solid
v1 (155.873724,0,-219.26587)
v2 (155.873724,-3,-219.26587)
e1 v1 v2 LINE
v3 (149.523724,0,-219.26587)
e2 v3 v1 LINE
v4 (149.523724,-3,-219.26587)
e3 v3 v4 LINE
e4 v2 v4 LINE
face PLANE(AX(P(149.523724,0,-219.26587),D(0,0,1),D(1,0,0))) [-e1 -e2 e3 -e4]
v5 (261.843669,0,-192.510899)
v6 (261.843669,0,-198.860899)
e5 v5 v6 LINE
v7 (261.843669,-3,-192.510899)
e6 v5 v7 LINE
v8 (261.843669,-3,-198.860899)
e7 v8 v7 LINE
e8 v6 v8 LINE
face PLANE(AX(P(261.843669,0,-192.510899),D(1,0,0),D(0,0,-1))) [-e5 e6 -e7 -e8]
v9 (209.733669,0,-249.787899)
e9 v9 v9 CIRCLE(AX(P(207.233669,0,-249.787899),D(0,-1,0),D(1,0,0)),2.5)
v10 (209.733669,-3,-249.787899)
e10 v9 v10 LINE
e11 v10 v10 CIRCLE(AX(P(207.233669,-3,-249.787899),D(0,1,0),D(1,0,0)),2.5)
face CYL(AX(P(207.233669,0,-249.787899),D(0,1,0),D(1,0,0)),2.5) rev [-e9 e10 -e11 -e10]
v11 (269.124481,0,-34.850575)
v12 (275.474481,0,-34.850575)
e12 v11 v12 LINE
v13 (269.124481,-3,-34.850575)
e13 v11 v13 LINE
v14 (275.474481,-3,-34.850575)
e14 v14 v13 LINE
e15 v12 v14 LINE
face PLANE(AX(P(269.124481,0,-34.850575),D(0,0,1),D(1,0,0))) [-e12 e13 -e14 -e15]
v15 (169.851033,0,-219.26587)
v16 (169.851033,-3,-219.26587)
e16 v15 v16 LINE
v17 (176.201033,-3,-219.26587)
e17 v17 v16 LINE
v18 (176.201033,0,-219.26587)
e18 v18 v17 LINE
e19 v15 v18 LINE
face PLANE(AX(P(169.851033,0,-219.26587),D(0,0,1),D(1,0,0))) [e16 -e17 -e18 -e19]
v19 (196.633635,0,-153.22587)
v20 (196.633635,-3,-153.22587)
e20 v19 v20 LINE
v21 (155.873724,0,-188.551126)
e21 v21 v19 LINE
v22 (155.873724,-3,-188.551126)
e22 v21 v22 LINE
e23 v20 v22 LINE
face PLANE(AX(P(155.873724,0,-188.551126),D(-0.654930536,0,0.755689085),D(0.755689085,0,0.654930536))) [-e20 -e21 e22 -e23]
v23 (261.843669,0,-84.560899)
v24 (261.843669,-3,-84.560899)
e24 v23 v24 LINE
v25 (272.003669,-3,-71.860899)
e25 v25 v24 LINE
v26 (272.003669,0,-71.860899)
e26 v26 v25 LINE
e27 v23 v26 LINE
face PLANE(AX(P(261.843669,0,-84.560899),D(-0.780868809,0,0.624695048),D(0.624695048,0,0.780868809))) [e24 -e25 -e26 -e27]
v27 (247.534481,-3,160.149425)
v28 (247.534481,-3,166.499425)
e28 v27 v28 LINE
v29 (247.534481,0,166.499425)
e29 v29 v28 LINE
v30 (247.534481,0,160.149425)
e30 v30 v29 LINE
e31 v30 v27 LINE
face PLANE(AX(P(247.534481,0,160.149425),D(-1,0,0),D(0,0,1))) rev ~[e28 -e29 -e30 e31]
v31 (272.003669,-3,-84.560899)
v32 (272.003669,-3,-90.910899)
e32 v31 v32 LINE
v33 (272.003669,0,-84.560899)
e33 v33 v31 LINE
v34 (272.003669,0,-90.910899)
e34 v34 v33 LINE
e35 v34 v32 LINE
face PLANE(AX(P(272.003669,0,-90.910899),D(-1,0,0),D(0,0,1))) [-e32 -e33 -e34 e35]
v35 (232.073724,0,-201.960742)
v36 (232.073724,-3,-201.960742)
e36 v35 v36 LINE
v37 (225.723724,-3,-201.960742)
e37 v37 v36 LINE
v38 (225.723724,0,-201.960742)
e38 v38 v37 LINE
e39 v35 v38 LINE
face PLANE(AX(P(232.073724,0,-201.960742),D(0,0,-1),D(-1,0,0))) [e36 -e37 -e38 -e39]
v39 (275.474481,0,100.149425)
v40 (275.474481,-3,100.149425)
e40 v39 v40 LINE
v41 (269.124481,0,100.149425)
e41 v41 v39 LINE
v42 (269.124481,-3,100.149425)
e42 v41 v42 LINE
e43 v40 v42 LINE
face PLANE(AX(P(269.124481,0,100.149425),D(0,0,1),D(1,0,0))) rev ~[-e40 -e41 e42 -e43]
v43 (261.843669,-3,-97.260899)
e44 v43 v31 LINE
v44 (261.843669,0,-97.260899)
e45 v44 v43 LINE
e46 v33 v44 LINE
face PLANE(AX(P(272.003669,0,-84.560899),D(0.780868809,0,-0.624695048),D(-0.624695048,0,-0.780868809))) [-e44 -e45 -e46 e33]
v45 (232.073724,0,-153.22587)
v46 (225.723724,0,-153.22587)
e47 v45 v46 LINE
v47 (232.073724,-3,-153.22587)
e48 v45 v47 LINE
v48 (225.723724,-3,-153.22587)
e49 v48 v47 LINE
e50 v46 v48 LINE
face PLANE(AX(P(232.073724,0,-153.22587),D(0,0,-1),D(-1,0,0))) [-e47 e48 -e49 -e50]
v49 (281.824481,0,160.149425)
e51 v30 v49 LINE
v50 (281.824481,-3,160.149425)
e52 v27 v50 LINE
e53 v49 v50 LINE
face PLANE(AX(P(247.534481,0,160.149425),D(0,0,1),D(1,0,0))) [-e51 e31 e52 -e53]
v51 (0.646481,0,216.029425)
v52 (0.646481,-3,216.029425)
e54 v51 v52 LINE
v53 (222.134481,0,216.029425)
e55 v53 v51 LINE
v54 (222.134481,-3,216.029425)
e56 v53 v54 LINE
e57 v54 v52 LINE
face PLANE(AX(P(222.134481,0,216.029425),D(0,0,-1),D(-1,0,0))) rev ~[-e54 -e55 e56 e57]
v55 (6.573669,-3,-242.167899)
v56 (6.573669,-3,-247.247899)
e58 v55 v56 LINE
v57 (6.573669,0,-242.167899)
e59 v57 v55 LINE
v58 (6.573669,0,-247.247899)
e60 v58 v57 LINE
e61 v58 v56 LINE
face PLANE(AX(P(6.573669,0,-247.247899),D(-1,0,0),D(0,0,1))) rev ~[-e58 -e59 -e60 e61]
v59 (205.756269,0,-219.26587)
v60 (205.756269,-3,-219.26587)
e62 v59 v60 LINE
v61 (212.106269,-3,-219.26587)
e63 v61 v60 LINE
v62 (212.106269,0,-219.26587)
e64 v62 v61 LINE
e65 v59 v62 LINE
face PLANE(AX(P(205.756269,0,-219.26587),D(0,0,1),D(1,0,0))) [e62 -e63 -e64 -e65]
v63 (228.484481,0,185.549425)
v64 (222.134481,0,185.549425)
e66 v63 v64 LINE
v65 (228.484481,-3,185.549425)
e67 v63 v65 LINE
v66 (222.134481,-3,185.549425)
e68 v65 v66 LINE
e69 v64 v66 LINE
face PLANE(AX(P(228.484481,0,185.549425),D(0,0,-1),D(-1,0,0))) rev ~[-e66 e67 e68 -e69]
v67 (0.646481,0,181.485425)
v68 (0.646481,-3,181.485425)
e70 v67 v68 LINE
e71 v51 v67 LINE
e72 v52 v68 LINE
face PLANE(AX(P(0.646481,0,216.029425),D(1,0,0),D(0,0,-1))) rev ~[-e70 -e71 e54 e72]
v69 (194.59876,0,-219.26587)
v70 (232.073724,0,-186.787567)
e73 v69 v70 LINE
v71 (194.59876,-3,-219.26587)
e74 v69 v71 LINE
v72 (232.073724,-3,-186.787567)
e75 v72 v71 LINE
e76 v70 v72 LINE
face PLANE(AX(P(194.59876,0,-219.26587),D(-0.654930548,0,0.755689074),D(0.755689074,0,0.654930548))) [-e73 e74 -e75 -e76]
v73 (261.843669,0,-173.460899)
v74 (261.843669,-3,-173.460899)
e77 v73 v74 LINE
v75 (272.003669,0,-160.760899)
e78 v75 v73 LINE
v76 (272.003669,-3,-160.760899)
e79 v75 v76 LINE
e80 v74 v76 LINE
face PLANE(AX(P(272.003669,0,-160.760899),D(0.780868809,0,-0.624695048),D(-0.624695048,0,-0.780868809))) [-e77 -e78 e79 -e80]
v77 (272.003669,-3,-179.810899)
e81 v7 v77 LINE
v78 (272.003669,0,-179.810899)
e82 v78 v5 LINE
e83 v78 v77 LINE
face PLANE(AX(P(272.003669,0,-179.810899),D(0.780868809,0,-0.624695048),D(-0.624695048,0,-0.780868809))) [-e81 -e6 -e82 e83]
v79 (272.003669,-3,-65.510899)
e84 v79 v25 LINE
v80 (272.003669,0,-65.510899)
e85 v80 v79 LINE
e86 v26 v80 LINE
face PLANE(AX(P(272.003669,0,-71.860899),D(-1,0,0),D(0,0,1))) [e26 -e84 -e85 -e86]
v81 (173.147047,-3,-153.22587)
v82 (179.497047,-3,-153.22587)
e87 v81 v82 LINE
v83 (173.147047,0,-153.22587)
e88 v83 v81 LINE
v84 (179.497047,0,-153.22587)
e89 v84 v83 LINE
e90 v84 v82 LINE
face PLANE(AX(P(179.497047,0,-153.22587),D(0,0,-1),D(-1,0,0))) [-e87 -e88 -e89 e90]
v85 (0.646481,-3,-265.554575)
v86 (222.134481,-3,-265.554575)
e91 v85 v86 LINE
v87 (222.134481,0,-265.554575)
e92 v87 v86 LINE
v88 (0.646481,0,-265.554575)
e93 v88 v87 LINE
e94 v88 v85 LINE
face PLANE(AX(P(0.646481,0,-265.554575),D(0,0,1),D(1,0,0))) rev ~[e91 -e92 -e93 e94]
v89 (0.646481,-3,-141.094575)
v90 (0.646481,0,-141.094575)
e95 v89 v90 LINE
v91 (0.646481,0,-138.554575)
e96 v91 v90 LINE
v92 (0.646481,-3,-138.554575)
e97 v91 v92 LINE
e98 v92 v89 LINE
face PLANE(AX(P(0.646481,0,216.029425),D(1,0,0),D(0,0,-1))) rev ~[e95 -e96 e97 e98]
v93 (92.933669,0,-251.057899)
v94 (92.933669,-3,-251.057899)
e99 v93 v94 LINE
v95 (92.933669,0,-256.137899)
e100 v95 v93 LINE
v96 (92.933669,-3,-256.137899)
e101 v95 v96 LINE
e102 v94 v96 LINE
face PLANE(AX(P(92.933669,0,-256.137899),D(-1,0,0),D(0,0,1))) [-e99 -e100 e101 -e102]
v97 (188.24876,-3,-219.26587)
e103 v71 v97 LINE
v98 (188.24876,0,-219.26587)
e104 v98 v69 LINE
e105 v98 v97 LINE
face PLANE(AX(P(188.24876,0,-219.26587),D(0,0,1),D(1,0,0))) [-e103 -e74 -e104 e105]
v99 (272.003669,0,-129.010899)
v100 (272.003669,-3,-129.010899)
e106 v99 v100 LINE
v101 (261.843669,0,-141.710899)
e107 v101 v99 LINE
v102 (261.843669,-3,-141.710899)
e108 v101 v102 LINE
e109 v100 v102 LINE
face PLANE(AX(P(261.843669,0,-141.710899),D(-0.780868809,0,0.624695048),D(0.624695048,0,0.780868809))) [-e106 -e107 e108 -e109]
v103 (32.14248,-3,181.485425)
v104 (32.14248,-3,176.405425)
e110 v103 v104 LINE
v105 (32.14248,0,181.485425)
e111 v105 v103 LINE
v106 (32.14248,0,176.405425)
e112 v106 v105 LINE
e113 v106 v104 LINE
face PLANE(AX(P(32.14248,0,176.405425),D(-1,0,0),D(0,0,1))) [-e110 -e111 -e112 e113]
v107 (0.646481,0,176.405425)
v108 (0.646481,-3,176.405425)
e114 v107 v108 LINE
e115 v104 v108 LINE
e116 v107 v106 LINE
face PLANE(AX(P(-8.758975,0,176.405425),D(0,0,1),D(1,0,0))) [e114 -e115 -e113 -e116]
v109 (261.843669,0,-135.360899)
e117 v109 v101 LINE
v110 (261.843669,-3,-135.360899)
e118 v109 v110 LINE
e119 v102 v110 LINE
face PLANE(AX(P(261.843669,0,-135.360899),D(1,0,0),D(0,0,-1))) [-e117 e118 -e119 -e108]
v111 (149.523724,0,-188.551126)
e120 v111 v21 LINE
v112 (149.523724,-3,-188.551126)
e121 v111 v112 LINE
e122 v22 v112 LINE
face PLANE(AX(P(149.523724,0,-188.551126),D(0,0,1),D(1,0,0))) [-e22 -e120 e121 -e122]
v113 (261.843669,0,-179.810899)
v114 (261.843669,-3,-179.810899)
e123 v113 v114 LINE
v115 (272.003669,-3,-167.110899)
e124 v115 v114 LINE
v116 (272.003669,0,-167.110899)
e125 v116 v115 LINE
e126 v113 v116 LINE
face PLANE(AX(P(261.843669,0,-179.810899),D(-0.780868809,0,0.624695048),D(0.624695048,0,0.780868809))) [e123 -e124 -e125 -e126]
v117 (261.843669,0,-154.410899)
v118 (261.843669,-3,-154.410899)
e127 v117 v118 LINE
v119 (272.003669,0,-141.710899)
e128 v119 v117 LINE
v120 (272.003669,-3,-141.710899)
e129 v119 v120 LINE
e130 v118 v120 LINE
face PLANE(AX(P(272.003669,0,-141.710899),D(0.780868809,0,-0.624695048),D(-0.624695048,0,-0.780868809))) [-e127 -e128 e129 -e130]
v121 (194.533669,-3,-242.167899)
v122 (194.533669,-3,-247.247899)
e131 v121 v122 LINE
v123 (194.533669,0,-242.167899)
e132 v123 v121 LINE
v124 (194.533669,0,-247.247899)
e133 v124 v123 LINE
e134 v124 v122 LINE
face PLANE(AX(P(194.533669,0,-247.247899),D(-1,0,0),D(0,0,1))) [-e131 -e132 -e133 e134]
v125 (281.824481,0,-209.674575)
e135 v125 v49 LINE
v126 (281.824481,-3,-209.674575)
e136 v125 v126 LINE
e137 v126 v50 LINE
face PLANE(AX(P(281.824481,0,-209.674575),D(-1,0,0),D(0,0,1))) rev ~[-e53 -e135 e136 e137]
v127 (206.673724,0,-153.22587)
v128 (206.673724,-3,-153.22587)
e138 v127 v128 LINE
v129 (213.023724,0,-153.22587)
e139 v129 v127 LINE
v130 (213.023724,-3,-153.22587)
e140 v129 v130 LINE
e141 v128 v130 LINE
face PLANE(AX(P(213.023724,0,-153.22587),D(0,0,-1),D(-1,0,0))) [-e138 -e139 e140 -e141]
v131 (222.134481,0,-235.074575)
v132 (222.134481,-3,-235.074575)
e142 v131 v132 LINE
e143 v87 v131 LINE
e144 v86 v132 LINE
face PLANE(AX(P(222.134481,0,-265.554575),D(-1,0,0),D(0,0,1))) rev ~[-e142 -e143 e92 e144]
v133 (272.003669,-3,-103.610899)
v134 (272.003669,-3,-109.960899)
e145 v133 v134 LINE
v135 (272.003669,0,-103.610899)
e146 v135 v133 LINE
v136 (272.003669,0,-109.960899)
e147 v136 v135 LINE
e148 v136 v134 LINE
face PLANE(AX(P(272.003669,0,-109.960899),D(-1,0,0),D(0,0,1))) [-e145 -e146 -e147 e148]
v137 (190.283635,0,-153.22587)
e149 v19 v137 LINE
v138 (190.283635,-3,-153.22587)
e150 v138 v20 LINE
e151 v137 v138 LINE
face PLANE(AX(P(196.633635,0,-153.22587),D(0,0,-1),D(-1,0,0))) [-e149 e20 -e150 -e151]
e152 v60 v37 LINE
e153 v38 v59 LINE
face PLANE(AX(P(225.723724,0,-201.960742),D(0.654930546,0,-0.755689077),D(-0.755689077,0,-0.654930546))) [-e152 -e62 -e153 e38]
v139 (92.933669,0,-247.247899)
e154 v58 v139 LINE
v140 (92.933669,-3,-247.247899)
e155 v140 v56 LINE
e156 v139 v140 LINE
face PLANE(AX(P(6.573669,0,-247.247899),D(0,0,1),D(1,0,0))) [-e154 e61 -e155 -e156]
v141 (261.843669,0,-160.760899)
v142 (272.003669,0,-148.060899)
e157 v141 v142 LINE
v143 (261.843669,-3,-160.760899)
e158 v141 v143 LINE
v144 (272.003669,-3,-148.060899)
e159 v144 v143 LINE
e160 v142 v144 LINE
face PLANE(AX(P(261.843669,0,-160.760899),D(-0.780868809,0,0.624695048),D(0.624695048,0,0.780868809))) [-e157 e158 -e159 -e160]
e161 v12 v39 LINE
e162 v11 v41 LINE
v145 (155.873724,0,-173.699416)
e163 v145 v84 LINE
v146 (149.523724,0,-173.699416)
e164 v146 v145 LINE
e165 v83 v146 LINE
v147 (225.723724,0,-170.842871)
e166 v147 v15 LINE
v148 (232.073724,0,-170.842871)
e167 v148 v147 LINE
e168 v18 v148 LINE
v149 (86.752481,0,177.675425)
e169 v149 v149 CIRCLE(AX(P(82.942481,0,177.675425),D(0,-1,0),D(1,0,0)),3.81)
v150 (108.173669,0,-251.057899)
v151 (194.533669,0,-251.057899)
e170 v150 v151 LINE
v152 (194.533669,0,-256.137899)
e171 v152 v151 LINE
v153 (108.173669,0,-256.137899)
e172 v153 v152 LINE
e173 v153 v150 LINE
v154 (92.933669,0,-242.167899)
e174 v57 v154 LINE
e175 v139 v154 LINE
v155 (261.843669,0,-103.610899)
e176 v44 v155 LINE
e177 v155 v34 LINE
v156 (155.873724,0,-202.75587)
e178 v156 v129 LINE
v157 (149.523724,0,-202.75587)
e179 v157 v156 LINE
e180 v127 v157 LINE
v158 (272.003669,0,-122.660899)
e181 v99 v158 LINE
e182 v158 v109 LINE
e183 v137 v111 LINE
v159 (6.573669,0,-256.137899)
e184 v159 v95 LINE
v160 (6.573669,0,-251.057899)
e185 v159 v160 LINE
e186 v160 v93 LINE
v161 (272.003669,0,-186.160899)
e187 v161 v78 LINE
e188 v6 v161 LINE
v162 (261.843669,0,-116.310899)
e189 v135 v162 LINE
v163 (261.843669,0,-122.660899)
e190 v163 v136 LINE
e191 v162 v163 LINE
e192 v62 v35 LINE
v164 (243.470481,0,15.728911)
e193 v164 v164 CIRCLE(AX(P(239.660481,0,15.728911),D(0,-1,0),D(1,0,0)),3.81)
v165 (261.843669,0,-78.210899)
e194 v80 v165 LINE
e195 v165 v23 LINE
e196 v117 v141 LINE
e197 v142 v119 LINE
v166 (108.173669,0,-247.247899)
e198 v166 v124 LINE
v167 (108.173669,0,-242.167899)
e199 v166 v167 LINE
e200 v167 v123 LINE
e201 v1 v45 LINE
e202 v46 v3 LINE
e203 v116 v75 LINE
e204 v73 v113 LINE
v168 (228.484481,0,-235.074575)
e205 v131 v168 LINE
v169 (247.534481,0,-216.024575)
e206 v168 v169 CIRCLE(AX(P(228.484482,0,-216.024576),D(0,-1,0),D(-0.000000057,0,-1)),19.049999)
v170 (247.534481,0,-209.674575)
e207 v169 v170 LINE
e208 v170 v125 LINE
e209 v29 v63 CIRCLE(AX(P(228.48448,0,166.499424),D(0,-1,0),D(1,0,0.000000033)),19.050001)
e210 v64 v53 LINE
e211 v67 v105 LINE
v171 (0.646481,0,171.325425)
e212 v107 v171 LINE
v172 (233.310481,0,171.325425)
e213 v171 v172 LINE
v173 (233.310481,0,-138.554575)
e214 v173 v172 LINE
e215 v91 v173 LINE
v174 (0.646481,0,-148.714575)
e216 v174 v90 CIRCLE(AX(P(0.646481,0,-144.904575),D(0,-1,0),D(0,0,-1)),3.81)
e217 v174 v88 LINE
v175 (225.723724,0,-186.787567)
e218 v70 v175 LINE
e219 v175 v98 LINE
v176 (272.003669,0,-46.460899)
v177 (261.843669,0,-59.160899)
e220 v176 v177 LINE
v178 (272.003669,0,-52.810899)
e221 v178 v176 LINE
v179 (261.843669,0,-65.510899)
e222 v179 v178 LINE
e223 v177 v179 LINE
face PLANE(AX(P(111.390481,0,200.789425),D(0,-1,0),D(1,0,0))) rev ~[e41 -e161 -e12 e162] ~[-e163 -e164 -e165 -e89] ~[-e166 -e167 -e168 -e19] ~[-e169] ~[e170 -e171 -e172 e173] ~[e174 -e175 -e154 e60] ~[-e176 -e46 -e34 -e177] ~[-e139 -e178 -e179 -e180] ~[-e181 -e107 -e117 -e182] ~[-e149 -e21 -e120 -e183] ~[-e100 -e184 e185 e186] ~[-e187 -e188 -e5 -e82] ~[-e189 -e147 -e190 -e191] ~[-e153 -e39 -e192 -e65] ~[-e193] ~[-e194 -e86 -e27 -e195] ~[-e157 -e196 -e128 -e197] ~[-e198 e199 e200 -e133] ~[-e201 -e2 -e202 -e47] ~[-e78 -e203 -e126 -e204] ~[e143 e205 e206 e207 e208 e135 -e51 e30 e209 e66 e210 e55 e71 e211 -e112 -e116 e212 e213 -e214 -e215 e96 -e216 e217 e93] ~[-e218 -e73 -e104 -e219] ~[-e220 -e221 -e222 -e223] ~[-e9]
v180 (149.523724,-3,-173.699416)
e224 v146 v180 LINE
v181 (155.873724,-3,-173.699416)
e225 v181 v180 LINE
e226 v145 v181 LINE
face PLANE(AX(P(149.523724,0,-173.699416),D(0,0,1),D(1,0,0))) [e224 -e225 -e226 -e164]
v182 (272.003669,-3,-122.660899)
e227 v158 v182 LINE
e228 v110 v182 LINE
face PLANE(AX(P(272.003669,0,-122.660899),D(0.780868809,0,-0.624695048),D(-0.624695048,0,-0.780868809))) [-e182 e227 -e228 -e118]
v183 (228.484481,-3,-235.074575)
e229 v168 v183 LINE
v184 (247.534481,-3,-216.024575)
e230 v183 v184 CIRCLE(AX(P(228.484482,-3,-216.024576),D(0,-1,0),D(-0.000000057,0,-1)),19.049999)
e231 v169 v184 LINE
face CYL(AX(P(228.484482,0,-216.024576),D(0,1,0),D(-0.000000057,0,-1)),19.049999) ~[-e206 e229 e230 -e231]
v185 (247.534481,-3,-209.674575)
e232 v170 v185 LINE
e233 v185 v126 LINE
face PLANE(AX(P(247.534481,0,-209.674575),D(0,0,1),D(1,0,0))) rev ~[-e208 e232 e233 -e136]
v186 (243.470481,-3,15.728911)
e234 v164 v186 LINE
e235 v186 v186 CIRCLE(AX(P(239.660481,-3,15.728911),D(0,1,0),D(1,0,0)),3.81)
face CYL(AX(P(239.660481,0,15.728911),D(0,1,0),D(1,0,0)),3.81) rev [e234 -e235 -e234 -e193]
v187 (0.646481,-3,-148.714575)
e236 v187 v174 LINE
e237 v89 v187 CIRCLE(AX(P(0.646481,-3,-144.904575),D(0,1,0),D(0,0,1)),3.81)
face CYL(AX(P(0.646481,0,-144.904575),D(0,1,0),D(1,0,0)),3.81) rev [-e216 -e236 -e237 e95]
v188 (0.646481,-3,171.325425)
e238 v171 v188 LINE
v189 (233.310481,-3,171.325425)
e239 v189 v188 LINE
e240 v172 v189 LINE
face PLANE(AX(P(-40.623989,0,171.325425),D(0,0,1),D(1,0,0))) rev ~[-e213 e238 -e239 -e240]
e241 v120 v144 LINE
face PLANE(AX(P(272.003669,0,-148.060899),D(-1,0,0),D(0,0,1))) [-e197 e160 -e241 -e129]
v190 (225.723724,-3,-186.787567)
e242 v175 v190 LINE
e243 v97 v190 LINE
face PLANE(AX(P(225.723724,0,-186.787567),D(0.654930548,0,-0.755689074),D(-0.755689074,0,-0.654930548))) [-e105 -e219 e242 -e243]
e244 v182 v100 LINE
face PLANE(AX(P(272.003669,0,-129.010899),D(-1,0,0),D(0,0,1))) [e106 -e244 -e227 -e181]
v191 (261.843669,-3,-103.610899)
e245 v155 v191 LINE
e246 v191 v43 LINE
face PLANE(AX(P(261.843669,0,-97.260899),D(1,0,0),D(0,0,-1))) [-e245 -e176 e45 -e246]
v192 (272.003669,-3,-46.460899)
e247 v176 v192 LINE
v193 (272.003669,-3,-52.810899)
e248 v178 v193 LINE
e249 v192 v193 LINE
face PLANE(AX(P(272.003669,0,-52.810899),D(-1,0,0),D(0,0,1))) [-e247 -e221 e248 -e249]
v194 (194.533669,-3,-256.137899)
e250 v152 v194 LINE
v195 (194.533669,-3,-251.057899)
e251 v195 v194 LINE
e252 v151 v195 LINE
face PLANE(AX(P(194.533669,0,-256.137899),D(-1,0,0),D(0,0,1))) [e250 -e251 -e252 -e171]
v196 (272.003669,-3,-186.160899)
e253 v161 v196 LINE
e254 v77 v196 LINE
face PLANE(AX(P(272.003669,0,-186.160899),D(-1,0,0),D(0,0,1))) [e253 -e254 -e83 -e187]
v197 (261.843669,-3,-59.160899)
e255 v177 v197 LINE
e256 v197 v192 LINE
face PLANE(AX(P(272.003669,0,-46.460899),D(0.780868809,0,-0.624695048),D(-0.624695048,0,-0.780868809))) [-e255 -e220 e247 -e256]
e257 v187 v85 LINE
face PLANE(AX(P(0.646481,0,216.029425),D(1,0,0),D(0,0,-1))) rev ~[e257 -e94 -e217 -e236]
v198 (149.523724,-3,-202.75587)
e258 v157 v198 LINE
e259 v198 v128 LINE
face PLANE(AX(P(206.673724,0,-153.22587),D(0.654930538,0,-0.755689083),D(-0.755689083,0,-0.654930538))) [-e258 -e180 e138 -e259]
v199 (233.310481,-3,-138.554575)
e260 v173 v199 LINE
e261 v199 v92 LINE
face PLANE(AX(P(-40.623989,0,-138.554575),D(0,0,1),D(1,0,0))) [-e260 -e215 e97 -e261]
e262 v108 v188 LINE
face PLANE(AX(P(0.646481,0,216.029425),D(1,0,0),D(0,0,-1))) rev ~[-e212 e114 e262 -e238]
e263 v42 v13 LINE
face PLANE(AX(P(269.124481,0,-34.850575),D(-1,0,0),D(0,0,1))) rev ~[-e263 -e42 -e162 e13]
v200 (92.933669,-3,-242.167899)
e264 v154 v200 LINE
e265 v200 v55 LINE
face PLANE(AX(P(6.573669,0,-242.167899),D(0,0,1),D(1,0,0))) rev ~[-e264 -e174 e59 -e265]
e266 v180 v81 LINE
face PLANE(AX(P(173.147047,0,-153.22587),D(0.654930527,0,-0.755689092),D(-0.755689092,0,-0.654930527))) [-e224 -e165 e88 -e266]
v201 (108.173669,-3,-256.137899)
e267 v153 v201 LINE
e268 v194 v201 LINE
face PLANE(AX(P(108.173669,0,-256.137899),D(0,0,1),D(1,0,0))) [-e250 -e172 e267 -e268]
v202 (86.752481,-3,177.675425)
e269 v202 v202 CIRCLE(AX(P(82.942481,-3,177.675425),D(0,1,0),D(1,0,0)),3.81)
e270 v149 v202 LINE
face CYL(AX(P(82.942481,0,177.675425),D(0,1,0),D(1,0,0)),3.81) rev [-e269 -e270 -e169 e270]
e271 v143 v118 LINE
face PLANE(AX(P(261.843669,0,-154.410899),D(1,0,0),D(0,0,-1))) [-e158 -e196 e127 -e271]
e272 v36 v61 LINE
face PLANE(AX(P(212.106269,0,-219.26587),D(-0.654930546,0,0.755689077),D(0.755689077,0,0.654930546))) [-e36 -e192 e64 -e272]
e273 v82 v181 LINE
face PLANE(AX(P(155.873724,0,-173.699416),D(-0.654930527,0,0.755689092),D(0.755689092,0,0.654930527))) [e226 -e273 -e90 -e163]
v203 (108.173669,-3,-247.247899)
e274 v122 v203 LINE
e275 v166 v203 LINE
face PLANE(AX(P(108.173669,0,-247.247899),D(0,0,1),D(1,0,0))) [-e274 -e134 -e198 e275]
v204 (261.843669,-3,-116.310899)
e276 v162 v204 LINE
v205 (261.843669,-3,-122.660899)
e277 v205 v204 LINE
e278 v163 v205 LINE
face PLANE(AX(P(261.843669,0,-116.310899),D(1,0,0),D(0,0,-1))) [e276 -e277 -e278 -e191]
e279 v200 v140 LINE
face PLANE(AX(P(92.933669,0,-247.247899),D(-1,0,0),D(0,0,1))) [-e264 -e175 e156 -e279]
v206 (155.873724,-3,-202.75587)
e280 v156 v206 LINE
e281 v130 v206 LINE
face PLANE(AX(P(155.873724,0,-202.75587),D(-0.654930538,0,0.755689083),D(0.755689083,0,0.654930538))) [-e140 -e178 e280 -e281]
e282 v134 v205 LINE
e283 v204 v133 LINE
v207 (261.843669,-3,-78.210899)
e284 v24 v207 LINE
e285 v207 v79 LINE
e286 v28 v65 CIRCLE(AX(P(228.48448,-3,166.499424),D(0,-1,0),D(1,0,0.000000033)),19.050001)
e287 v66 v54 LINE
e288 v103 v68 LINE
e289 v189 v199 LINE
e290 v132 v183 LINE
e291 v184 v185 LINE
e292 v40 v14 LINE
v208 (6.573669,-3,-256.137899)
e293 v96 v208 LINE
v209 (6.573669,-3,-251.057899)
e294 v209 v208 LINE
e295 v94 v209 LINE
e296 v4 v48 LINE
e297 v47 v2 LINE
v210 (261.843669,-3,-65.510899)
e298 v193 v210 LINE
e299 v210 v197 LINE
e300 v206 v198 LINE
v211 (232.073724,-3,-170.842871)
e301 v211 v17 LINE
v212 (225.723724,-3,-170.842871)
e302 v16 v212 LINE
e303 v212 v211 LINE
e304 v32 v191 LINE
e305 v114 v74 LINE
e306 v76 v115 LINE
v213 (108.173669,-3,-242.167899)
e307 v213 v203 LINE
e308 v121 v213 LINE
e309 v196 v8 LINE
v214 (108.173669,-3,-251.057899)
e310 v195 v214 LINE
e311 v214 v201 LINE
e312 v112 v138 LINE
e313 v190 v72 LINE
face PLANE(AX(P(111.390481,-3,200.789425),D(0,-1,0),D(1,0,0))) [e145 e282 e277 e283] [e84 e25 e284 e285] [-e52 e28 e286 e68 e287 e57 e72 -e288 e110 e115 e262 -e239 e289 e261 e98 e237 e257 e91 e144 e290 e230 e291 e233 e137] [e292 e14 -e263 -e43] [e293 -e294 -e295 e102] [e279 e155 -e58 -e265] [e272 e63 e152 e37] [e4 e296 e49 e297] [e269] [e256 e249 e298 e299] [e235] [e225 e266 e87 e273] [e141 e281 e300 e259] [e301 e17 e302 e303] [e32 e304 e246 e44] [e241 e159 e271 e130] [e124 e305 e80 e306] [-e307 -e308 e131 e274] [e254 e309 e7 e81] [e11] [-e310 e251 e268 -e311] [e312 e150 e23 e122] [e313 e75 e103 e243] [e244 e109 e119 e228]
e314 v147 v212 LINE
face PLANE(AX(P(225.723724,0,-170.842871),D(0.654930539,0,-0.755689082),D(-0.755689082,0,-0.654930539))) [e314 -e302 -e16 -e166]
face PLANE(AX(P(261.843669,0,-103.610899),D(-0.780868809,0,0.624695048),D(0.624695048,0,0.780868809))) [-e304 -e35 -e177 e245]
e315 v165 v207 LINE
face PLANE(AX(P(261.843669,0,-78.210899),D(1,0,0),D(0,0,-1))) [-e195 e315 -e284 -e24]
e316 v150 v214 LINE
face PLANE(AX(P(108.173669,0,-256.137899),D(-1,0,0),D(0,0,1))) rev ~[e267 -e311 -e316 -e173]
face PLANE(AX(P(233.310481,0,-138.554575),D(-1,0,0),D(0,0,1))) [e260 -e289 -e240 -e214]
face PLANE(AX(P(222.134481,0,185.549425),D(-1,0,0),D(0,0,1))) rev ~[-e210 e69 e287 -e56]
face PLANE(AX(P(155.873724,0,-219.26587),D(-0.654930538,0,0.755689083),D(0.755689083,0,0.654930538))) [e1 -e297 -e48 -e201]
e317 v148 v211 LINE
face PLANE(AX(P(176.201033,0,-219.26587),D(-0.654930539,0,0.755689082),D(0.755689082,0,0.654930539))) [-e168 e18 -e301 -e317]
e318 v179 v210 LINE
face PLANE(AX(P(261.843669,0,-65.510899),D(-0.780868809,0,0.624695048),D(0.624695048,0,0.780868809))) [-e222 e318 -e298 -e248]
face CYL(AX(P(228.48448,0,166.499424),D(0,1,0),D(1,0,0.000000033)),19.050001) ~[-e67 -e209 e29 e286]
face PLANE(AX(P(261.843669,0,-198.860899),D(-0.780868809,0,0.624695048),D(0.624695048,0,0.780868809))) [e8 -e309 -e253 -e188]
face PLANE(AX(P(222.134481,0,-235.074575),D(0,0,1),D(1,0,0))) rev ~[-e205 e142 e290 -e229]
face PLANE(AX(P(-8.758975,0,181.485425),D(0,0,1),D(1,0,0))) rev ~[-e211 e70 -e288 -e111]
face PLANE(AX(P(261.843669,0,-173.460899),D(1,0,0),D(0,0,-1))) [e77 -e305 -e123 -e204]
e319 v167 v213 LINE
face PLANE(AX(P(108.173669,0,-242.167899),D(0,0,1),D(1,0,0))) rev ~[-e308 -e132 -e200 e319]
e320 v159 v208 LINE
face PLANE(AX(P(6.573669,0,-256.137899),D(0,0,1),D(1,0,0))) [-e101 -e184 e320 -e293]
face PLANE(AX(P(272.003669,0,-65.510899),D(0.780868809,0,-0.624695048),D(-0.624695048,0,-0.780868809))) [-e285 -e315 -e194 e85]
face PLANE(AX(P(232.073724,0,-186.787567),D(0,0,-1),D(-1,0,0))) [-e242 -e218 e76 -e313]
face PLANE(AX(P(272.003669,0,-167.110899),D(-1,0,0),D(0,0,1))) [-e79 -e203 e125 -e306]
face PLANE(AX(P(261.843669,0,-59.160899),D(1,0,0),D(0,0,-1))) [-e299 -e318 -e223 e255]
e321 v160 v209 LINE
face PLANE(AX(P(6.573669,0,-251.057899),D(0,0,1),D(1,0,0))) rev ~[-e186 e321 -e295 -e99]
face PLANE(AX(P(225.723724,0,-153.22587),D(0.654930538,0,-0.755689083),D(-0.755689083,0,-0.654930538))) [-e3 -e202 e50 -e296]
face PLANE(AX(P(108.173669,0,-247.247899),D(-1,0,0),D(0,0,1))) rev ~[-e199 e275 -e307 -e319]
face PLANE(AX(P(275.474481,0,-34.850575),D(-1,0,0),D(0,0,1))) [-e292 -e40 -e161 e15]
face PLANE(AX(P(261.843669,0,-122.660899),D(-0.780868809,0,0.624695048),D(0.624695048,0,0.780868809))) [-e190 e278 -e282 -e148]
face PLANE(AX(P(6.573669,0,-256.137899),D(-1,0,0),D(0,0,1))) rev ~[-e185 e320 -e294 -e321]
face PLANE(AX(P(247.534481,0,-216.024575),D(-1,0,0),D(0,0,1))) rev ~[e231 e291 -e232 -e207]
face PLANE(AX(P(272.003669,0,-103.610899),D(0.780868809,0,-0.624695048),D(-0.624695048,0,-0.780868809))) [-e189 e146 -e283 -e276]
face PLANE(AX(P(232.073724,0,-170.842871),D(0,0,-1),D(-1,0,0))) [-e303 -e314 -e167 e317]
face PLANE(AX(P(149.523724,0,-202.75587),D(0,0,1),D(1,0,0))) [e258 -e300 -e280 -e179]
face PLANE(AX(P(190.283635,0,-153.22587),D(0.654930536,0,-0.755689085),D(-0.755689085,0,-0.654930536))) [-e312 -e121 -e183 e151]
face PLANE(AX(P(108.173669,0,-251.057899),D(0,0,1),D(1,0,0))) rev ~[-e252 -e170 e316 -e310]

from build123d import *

# Parameters (mm, degrees)
F0_W     = 221.488
F0_H     = 30.48
F0_W_2   = 34.29
F0_H_2   = 369.824
F1_DEPTH = 3
F2_W     = 86.36
F2_H     = 5.08
F2_R     = 2.5
F2_W_2   = 273.93447
F2_H_2   = 309.88
F2_W_3   = 6.35
F2_H_3   = 135
F2_R_2   = 3.81
F2_W_4   = 40.901455
F3_DEPTH = 25.4
F5_DEPTH = 25.4


with BuildPart() as f1:
    # F0 (on Front) → F1 (new body)
    with BuildSketch(Plane.XZ):
        Polygon((222.134481, 216.029425), (0.646481, 216.029425), (0.646481, 185.549425), (203.084481, 185.549425), (222.134481, 185.549425), align=None)
        with BuildLine():
            Line((203.084481, 185.549425), (0.646481, 185.549425))
            Line((0.646481, 185.549425), (0.646481, -235.074575))
            Line((0.646481, -235.074575), (222.134481, -235.074575))
            Line((222.134481, -235.074575), (228.484481, -235.074575))
            ThreePointArc((228.484481, -235.074575), (241.954865, -229.49496), (247.534481, -216.024575))
            Line((247.534481, -216.024575), (247.534481, -209.674575))
            Line((247.534481, -209.674575), (247.534481, 160.149425))
            Line((247.534481, 160.149425), (247.534481, 166.499425))
            ThreePointArc((247.534481, 166.499425), (241.954865, 179.969809), (228.484481, 185.549425))
            Line((228.484481, 185.549425), (222.134481, 185.549425))
            Line((222.134481, 185.549425), (203.084481, 185.549425))
        make_face()
        with Locations((111.390481, -250.314575)):
            Rectangle(F0_W, F0_H)
        with Locations((264.679481, -24.762575)):
            Rectangle(F0_W_2, F0_H_2)
    extrude(amount=F1_DEPTH)

    # F2 (on Front) → F3 (cut)
    with BuildSketch(Plane.XZ):
        Polygon((272.003669, -103.610899), (261.843669, -116.310899), (261.843669, -122.660899), (272.003669, -109.960899), align=None)
        Polygon((272.003669, -122.660899), (261.843669, -135.360899), (261.843669, -141.710899), (272.003669, -129.010899), align=None)
        Polygon((261.843669, -103.610899), (272.003669, -90.910899), (272.003669, -84.560899), (261.843669, -97.260899), align=None)
        Polygon((261.843669, -78.210899), (261.843669, -84.560899), (272.003669, -71.860899), (272.003669, -65.510899), align=None)
        Polygon((261.843669, -154.410899), (261.843669, -160.760899), (272.003669, -148.060899), (272.003669, -141.710899), align=None)
        Polygon((272.003669, -46.460899), (261.843669, -59.160899), (261.843669, -65.510899), (272.003669, -52.810899), align=None)
        Polygon((272.003669, -167.110899), (272.003669, -160.760899), (261.843669, -173.460899), (261.843669, -179.810899), align=None)
        Polygon((272.003669, -186.160899), (272.003669, -179.810899), (261.843669, -192.510899), (261.843669, -198.860899), align=None)
        with Locations((49.753669, -244.707899)):
            Rectangle(F2_W, F2_H)
        with Locations((49.753669, -253.597899)):
            Rectangle(F2_W, F2_H)
        with Locations((151.353669, -253.597899)):
            Rectangle(F2_W, F2_H)
        with Locations((151.353669, -244.707899)):
            Rectangle(F2_W, F2_H)
        with Locations((207.233669, -249.787899)):
            Circle(F2_R)
        with Locations((96.343246, 16.385425)):
            Rectangle(F2_W_2, F2_H_2)
        with Locations((272.299481, 32.649425)):
            Rectangle(F2_W_3, F2_H_3)
        with Locations((82.942481, 177.675425)):
            Circle(F2_R_2)
        with Locations((11.691753, 178.945425)):
            Rectangle(F2_W_4, F2_H)
        with Locations((239.660481, 15.728911)):
            Circle(F2_R_2)
        with Locations((0.646481, -144.904575)):
            Circle(F2_R_2)
    extrude(amount=F3_DEPTH, mode=Mode.SUBTRACT)

    # F4 (on Front) → F5 (cut)
    with BuildSketch(Plane.XZ):
        Polygon((155.873724, -202.75587), (213.023724, -153.22587), (206.673724, -153.22587), (149.523724, -202.75587), align=None)
        Polygon((155.873724, -219.26587), (232.073724, -153.22587), (225.723724, -153.22587), (149.523724, -219.26587), align=None)
        Polygon((155.873724, -188.551126), (196.633635, -153.22587), (190.283635, -153.22587), (149.523724, -188.551126), align=None)
        Polygon((173.147047, -153.22587), (149.523724, -173.699416), (155.873724, -173.699416), (179.497047, -153.22587), align=None)
        Polygon((194.59876, -219.26587), (232.073724, -186.787567), (225.723724, -186.787567), (188.24876, -219.26587), align=None)
        Polygon((225.723724, -170.842871), (169.851033, -219.26587), (176.201033, -219.26587), (232.073724, -170.842871), align=None)
        Polygon((225.723724, -201.960742), (205.756269, -219.26587), (212.106269, -219.26587), (232.073724, -201.960742), align=None)
    extrude(amount=F5_DEPTH, mode=Mode.SUBTRACT)


solid = f1.part
